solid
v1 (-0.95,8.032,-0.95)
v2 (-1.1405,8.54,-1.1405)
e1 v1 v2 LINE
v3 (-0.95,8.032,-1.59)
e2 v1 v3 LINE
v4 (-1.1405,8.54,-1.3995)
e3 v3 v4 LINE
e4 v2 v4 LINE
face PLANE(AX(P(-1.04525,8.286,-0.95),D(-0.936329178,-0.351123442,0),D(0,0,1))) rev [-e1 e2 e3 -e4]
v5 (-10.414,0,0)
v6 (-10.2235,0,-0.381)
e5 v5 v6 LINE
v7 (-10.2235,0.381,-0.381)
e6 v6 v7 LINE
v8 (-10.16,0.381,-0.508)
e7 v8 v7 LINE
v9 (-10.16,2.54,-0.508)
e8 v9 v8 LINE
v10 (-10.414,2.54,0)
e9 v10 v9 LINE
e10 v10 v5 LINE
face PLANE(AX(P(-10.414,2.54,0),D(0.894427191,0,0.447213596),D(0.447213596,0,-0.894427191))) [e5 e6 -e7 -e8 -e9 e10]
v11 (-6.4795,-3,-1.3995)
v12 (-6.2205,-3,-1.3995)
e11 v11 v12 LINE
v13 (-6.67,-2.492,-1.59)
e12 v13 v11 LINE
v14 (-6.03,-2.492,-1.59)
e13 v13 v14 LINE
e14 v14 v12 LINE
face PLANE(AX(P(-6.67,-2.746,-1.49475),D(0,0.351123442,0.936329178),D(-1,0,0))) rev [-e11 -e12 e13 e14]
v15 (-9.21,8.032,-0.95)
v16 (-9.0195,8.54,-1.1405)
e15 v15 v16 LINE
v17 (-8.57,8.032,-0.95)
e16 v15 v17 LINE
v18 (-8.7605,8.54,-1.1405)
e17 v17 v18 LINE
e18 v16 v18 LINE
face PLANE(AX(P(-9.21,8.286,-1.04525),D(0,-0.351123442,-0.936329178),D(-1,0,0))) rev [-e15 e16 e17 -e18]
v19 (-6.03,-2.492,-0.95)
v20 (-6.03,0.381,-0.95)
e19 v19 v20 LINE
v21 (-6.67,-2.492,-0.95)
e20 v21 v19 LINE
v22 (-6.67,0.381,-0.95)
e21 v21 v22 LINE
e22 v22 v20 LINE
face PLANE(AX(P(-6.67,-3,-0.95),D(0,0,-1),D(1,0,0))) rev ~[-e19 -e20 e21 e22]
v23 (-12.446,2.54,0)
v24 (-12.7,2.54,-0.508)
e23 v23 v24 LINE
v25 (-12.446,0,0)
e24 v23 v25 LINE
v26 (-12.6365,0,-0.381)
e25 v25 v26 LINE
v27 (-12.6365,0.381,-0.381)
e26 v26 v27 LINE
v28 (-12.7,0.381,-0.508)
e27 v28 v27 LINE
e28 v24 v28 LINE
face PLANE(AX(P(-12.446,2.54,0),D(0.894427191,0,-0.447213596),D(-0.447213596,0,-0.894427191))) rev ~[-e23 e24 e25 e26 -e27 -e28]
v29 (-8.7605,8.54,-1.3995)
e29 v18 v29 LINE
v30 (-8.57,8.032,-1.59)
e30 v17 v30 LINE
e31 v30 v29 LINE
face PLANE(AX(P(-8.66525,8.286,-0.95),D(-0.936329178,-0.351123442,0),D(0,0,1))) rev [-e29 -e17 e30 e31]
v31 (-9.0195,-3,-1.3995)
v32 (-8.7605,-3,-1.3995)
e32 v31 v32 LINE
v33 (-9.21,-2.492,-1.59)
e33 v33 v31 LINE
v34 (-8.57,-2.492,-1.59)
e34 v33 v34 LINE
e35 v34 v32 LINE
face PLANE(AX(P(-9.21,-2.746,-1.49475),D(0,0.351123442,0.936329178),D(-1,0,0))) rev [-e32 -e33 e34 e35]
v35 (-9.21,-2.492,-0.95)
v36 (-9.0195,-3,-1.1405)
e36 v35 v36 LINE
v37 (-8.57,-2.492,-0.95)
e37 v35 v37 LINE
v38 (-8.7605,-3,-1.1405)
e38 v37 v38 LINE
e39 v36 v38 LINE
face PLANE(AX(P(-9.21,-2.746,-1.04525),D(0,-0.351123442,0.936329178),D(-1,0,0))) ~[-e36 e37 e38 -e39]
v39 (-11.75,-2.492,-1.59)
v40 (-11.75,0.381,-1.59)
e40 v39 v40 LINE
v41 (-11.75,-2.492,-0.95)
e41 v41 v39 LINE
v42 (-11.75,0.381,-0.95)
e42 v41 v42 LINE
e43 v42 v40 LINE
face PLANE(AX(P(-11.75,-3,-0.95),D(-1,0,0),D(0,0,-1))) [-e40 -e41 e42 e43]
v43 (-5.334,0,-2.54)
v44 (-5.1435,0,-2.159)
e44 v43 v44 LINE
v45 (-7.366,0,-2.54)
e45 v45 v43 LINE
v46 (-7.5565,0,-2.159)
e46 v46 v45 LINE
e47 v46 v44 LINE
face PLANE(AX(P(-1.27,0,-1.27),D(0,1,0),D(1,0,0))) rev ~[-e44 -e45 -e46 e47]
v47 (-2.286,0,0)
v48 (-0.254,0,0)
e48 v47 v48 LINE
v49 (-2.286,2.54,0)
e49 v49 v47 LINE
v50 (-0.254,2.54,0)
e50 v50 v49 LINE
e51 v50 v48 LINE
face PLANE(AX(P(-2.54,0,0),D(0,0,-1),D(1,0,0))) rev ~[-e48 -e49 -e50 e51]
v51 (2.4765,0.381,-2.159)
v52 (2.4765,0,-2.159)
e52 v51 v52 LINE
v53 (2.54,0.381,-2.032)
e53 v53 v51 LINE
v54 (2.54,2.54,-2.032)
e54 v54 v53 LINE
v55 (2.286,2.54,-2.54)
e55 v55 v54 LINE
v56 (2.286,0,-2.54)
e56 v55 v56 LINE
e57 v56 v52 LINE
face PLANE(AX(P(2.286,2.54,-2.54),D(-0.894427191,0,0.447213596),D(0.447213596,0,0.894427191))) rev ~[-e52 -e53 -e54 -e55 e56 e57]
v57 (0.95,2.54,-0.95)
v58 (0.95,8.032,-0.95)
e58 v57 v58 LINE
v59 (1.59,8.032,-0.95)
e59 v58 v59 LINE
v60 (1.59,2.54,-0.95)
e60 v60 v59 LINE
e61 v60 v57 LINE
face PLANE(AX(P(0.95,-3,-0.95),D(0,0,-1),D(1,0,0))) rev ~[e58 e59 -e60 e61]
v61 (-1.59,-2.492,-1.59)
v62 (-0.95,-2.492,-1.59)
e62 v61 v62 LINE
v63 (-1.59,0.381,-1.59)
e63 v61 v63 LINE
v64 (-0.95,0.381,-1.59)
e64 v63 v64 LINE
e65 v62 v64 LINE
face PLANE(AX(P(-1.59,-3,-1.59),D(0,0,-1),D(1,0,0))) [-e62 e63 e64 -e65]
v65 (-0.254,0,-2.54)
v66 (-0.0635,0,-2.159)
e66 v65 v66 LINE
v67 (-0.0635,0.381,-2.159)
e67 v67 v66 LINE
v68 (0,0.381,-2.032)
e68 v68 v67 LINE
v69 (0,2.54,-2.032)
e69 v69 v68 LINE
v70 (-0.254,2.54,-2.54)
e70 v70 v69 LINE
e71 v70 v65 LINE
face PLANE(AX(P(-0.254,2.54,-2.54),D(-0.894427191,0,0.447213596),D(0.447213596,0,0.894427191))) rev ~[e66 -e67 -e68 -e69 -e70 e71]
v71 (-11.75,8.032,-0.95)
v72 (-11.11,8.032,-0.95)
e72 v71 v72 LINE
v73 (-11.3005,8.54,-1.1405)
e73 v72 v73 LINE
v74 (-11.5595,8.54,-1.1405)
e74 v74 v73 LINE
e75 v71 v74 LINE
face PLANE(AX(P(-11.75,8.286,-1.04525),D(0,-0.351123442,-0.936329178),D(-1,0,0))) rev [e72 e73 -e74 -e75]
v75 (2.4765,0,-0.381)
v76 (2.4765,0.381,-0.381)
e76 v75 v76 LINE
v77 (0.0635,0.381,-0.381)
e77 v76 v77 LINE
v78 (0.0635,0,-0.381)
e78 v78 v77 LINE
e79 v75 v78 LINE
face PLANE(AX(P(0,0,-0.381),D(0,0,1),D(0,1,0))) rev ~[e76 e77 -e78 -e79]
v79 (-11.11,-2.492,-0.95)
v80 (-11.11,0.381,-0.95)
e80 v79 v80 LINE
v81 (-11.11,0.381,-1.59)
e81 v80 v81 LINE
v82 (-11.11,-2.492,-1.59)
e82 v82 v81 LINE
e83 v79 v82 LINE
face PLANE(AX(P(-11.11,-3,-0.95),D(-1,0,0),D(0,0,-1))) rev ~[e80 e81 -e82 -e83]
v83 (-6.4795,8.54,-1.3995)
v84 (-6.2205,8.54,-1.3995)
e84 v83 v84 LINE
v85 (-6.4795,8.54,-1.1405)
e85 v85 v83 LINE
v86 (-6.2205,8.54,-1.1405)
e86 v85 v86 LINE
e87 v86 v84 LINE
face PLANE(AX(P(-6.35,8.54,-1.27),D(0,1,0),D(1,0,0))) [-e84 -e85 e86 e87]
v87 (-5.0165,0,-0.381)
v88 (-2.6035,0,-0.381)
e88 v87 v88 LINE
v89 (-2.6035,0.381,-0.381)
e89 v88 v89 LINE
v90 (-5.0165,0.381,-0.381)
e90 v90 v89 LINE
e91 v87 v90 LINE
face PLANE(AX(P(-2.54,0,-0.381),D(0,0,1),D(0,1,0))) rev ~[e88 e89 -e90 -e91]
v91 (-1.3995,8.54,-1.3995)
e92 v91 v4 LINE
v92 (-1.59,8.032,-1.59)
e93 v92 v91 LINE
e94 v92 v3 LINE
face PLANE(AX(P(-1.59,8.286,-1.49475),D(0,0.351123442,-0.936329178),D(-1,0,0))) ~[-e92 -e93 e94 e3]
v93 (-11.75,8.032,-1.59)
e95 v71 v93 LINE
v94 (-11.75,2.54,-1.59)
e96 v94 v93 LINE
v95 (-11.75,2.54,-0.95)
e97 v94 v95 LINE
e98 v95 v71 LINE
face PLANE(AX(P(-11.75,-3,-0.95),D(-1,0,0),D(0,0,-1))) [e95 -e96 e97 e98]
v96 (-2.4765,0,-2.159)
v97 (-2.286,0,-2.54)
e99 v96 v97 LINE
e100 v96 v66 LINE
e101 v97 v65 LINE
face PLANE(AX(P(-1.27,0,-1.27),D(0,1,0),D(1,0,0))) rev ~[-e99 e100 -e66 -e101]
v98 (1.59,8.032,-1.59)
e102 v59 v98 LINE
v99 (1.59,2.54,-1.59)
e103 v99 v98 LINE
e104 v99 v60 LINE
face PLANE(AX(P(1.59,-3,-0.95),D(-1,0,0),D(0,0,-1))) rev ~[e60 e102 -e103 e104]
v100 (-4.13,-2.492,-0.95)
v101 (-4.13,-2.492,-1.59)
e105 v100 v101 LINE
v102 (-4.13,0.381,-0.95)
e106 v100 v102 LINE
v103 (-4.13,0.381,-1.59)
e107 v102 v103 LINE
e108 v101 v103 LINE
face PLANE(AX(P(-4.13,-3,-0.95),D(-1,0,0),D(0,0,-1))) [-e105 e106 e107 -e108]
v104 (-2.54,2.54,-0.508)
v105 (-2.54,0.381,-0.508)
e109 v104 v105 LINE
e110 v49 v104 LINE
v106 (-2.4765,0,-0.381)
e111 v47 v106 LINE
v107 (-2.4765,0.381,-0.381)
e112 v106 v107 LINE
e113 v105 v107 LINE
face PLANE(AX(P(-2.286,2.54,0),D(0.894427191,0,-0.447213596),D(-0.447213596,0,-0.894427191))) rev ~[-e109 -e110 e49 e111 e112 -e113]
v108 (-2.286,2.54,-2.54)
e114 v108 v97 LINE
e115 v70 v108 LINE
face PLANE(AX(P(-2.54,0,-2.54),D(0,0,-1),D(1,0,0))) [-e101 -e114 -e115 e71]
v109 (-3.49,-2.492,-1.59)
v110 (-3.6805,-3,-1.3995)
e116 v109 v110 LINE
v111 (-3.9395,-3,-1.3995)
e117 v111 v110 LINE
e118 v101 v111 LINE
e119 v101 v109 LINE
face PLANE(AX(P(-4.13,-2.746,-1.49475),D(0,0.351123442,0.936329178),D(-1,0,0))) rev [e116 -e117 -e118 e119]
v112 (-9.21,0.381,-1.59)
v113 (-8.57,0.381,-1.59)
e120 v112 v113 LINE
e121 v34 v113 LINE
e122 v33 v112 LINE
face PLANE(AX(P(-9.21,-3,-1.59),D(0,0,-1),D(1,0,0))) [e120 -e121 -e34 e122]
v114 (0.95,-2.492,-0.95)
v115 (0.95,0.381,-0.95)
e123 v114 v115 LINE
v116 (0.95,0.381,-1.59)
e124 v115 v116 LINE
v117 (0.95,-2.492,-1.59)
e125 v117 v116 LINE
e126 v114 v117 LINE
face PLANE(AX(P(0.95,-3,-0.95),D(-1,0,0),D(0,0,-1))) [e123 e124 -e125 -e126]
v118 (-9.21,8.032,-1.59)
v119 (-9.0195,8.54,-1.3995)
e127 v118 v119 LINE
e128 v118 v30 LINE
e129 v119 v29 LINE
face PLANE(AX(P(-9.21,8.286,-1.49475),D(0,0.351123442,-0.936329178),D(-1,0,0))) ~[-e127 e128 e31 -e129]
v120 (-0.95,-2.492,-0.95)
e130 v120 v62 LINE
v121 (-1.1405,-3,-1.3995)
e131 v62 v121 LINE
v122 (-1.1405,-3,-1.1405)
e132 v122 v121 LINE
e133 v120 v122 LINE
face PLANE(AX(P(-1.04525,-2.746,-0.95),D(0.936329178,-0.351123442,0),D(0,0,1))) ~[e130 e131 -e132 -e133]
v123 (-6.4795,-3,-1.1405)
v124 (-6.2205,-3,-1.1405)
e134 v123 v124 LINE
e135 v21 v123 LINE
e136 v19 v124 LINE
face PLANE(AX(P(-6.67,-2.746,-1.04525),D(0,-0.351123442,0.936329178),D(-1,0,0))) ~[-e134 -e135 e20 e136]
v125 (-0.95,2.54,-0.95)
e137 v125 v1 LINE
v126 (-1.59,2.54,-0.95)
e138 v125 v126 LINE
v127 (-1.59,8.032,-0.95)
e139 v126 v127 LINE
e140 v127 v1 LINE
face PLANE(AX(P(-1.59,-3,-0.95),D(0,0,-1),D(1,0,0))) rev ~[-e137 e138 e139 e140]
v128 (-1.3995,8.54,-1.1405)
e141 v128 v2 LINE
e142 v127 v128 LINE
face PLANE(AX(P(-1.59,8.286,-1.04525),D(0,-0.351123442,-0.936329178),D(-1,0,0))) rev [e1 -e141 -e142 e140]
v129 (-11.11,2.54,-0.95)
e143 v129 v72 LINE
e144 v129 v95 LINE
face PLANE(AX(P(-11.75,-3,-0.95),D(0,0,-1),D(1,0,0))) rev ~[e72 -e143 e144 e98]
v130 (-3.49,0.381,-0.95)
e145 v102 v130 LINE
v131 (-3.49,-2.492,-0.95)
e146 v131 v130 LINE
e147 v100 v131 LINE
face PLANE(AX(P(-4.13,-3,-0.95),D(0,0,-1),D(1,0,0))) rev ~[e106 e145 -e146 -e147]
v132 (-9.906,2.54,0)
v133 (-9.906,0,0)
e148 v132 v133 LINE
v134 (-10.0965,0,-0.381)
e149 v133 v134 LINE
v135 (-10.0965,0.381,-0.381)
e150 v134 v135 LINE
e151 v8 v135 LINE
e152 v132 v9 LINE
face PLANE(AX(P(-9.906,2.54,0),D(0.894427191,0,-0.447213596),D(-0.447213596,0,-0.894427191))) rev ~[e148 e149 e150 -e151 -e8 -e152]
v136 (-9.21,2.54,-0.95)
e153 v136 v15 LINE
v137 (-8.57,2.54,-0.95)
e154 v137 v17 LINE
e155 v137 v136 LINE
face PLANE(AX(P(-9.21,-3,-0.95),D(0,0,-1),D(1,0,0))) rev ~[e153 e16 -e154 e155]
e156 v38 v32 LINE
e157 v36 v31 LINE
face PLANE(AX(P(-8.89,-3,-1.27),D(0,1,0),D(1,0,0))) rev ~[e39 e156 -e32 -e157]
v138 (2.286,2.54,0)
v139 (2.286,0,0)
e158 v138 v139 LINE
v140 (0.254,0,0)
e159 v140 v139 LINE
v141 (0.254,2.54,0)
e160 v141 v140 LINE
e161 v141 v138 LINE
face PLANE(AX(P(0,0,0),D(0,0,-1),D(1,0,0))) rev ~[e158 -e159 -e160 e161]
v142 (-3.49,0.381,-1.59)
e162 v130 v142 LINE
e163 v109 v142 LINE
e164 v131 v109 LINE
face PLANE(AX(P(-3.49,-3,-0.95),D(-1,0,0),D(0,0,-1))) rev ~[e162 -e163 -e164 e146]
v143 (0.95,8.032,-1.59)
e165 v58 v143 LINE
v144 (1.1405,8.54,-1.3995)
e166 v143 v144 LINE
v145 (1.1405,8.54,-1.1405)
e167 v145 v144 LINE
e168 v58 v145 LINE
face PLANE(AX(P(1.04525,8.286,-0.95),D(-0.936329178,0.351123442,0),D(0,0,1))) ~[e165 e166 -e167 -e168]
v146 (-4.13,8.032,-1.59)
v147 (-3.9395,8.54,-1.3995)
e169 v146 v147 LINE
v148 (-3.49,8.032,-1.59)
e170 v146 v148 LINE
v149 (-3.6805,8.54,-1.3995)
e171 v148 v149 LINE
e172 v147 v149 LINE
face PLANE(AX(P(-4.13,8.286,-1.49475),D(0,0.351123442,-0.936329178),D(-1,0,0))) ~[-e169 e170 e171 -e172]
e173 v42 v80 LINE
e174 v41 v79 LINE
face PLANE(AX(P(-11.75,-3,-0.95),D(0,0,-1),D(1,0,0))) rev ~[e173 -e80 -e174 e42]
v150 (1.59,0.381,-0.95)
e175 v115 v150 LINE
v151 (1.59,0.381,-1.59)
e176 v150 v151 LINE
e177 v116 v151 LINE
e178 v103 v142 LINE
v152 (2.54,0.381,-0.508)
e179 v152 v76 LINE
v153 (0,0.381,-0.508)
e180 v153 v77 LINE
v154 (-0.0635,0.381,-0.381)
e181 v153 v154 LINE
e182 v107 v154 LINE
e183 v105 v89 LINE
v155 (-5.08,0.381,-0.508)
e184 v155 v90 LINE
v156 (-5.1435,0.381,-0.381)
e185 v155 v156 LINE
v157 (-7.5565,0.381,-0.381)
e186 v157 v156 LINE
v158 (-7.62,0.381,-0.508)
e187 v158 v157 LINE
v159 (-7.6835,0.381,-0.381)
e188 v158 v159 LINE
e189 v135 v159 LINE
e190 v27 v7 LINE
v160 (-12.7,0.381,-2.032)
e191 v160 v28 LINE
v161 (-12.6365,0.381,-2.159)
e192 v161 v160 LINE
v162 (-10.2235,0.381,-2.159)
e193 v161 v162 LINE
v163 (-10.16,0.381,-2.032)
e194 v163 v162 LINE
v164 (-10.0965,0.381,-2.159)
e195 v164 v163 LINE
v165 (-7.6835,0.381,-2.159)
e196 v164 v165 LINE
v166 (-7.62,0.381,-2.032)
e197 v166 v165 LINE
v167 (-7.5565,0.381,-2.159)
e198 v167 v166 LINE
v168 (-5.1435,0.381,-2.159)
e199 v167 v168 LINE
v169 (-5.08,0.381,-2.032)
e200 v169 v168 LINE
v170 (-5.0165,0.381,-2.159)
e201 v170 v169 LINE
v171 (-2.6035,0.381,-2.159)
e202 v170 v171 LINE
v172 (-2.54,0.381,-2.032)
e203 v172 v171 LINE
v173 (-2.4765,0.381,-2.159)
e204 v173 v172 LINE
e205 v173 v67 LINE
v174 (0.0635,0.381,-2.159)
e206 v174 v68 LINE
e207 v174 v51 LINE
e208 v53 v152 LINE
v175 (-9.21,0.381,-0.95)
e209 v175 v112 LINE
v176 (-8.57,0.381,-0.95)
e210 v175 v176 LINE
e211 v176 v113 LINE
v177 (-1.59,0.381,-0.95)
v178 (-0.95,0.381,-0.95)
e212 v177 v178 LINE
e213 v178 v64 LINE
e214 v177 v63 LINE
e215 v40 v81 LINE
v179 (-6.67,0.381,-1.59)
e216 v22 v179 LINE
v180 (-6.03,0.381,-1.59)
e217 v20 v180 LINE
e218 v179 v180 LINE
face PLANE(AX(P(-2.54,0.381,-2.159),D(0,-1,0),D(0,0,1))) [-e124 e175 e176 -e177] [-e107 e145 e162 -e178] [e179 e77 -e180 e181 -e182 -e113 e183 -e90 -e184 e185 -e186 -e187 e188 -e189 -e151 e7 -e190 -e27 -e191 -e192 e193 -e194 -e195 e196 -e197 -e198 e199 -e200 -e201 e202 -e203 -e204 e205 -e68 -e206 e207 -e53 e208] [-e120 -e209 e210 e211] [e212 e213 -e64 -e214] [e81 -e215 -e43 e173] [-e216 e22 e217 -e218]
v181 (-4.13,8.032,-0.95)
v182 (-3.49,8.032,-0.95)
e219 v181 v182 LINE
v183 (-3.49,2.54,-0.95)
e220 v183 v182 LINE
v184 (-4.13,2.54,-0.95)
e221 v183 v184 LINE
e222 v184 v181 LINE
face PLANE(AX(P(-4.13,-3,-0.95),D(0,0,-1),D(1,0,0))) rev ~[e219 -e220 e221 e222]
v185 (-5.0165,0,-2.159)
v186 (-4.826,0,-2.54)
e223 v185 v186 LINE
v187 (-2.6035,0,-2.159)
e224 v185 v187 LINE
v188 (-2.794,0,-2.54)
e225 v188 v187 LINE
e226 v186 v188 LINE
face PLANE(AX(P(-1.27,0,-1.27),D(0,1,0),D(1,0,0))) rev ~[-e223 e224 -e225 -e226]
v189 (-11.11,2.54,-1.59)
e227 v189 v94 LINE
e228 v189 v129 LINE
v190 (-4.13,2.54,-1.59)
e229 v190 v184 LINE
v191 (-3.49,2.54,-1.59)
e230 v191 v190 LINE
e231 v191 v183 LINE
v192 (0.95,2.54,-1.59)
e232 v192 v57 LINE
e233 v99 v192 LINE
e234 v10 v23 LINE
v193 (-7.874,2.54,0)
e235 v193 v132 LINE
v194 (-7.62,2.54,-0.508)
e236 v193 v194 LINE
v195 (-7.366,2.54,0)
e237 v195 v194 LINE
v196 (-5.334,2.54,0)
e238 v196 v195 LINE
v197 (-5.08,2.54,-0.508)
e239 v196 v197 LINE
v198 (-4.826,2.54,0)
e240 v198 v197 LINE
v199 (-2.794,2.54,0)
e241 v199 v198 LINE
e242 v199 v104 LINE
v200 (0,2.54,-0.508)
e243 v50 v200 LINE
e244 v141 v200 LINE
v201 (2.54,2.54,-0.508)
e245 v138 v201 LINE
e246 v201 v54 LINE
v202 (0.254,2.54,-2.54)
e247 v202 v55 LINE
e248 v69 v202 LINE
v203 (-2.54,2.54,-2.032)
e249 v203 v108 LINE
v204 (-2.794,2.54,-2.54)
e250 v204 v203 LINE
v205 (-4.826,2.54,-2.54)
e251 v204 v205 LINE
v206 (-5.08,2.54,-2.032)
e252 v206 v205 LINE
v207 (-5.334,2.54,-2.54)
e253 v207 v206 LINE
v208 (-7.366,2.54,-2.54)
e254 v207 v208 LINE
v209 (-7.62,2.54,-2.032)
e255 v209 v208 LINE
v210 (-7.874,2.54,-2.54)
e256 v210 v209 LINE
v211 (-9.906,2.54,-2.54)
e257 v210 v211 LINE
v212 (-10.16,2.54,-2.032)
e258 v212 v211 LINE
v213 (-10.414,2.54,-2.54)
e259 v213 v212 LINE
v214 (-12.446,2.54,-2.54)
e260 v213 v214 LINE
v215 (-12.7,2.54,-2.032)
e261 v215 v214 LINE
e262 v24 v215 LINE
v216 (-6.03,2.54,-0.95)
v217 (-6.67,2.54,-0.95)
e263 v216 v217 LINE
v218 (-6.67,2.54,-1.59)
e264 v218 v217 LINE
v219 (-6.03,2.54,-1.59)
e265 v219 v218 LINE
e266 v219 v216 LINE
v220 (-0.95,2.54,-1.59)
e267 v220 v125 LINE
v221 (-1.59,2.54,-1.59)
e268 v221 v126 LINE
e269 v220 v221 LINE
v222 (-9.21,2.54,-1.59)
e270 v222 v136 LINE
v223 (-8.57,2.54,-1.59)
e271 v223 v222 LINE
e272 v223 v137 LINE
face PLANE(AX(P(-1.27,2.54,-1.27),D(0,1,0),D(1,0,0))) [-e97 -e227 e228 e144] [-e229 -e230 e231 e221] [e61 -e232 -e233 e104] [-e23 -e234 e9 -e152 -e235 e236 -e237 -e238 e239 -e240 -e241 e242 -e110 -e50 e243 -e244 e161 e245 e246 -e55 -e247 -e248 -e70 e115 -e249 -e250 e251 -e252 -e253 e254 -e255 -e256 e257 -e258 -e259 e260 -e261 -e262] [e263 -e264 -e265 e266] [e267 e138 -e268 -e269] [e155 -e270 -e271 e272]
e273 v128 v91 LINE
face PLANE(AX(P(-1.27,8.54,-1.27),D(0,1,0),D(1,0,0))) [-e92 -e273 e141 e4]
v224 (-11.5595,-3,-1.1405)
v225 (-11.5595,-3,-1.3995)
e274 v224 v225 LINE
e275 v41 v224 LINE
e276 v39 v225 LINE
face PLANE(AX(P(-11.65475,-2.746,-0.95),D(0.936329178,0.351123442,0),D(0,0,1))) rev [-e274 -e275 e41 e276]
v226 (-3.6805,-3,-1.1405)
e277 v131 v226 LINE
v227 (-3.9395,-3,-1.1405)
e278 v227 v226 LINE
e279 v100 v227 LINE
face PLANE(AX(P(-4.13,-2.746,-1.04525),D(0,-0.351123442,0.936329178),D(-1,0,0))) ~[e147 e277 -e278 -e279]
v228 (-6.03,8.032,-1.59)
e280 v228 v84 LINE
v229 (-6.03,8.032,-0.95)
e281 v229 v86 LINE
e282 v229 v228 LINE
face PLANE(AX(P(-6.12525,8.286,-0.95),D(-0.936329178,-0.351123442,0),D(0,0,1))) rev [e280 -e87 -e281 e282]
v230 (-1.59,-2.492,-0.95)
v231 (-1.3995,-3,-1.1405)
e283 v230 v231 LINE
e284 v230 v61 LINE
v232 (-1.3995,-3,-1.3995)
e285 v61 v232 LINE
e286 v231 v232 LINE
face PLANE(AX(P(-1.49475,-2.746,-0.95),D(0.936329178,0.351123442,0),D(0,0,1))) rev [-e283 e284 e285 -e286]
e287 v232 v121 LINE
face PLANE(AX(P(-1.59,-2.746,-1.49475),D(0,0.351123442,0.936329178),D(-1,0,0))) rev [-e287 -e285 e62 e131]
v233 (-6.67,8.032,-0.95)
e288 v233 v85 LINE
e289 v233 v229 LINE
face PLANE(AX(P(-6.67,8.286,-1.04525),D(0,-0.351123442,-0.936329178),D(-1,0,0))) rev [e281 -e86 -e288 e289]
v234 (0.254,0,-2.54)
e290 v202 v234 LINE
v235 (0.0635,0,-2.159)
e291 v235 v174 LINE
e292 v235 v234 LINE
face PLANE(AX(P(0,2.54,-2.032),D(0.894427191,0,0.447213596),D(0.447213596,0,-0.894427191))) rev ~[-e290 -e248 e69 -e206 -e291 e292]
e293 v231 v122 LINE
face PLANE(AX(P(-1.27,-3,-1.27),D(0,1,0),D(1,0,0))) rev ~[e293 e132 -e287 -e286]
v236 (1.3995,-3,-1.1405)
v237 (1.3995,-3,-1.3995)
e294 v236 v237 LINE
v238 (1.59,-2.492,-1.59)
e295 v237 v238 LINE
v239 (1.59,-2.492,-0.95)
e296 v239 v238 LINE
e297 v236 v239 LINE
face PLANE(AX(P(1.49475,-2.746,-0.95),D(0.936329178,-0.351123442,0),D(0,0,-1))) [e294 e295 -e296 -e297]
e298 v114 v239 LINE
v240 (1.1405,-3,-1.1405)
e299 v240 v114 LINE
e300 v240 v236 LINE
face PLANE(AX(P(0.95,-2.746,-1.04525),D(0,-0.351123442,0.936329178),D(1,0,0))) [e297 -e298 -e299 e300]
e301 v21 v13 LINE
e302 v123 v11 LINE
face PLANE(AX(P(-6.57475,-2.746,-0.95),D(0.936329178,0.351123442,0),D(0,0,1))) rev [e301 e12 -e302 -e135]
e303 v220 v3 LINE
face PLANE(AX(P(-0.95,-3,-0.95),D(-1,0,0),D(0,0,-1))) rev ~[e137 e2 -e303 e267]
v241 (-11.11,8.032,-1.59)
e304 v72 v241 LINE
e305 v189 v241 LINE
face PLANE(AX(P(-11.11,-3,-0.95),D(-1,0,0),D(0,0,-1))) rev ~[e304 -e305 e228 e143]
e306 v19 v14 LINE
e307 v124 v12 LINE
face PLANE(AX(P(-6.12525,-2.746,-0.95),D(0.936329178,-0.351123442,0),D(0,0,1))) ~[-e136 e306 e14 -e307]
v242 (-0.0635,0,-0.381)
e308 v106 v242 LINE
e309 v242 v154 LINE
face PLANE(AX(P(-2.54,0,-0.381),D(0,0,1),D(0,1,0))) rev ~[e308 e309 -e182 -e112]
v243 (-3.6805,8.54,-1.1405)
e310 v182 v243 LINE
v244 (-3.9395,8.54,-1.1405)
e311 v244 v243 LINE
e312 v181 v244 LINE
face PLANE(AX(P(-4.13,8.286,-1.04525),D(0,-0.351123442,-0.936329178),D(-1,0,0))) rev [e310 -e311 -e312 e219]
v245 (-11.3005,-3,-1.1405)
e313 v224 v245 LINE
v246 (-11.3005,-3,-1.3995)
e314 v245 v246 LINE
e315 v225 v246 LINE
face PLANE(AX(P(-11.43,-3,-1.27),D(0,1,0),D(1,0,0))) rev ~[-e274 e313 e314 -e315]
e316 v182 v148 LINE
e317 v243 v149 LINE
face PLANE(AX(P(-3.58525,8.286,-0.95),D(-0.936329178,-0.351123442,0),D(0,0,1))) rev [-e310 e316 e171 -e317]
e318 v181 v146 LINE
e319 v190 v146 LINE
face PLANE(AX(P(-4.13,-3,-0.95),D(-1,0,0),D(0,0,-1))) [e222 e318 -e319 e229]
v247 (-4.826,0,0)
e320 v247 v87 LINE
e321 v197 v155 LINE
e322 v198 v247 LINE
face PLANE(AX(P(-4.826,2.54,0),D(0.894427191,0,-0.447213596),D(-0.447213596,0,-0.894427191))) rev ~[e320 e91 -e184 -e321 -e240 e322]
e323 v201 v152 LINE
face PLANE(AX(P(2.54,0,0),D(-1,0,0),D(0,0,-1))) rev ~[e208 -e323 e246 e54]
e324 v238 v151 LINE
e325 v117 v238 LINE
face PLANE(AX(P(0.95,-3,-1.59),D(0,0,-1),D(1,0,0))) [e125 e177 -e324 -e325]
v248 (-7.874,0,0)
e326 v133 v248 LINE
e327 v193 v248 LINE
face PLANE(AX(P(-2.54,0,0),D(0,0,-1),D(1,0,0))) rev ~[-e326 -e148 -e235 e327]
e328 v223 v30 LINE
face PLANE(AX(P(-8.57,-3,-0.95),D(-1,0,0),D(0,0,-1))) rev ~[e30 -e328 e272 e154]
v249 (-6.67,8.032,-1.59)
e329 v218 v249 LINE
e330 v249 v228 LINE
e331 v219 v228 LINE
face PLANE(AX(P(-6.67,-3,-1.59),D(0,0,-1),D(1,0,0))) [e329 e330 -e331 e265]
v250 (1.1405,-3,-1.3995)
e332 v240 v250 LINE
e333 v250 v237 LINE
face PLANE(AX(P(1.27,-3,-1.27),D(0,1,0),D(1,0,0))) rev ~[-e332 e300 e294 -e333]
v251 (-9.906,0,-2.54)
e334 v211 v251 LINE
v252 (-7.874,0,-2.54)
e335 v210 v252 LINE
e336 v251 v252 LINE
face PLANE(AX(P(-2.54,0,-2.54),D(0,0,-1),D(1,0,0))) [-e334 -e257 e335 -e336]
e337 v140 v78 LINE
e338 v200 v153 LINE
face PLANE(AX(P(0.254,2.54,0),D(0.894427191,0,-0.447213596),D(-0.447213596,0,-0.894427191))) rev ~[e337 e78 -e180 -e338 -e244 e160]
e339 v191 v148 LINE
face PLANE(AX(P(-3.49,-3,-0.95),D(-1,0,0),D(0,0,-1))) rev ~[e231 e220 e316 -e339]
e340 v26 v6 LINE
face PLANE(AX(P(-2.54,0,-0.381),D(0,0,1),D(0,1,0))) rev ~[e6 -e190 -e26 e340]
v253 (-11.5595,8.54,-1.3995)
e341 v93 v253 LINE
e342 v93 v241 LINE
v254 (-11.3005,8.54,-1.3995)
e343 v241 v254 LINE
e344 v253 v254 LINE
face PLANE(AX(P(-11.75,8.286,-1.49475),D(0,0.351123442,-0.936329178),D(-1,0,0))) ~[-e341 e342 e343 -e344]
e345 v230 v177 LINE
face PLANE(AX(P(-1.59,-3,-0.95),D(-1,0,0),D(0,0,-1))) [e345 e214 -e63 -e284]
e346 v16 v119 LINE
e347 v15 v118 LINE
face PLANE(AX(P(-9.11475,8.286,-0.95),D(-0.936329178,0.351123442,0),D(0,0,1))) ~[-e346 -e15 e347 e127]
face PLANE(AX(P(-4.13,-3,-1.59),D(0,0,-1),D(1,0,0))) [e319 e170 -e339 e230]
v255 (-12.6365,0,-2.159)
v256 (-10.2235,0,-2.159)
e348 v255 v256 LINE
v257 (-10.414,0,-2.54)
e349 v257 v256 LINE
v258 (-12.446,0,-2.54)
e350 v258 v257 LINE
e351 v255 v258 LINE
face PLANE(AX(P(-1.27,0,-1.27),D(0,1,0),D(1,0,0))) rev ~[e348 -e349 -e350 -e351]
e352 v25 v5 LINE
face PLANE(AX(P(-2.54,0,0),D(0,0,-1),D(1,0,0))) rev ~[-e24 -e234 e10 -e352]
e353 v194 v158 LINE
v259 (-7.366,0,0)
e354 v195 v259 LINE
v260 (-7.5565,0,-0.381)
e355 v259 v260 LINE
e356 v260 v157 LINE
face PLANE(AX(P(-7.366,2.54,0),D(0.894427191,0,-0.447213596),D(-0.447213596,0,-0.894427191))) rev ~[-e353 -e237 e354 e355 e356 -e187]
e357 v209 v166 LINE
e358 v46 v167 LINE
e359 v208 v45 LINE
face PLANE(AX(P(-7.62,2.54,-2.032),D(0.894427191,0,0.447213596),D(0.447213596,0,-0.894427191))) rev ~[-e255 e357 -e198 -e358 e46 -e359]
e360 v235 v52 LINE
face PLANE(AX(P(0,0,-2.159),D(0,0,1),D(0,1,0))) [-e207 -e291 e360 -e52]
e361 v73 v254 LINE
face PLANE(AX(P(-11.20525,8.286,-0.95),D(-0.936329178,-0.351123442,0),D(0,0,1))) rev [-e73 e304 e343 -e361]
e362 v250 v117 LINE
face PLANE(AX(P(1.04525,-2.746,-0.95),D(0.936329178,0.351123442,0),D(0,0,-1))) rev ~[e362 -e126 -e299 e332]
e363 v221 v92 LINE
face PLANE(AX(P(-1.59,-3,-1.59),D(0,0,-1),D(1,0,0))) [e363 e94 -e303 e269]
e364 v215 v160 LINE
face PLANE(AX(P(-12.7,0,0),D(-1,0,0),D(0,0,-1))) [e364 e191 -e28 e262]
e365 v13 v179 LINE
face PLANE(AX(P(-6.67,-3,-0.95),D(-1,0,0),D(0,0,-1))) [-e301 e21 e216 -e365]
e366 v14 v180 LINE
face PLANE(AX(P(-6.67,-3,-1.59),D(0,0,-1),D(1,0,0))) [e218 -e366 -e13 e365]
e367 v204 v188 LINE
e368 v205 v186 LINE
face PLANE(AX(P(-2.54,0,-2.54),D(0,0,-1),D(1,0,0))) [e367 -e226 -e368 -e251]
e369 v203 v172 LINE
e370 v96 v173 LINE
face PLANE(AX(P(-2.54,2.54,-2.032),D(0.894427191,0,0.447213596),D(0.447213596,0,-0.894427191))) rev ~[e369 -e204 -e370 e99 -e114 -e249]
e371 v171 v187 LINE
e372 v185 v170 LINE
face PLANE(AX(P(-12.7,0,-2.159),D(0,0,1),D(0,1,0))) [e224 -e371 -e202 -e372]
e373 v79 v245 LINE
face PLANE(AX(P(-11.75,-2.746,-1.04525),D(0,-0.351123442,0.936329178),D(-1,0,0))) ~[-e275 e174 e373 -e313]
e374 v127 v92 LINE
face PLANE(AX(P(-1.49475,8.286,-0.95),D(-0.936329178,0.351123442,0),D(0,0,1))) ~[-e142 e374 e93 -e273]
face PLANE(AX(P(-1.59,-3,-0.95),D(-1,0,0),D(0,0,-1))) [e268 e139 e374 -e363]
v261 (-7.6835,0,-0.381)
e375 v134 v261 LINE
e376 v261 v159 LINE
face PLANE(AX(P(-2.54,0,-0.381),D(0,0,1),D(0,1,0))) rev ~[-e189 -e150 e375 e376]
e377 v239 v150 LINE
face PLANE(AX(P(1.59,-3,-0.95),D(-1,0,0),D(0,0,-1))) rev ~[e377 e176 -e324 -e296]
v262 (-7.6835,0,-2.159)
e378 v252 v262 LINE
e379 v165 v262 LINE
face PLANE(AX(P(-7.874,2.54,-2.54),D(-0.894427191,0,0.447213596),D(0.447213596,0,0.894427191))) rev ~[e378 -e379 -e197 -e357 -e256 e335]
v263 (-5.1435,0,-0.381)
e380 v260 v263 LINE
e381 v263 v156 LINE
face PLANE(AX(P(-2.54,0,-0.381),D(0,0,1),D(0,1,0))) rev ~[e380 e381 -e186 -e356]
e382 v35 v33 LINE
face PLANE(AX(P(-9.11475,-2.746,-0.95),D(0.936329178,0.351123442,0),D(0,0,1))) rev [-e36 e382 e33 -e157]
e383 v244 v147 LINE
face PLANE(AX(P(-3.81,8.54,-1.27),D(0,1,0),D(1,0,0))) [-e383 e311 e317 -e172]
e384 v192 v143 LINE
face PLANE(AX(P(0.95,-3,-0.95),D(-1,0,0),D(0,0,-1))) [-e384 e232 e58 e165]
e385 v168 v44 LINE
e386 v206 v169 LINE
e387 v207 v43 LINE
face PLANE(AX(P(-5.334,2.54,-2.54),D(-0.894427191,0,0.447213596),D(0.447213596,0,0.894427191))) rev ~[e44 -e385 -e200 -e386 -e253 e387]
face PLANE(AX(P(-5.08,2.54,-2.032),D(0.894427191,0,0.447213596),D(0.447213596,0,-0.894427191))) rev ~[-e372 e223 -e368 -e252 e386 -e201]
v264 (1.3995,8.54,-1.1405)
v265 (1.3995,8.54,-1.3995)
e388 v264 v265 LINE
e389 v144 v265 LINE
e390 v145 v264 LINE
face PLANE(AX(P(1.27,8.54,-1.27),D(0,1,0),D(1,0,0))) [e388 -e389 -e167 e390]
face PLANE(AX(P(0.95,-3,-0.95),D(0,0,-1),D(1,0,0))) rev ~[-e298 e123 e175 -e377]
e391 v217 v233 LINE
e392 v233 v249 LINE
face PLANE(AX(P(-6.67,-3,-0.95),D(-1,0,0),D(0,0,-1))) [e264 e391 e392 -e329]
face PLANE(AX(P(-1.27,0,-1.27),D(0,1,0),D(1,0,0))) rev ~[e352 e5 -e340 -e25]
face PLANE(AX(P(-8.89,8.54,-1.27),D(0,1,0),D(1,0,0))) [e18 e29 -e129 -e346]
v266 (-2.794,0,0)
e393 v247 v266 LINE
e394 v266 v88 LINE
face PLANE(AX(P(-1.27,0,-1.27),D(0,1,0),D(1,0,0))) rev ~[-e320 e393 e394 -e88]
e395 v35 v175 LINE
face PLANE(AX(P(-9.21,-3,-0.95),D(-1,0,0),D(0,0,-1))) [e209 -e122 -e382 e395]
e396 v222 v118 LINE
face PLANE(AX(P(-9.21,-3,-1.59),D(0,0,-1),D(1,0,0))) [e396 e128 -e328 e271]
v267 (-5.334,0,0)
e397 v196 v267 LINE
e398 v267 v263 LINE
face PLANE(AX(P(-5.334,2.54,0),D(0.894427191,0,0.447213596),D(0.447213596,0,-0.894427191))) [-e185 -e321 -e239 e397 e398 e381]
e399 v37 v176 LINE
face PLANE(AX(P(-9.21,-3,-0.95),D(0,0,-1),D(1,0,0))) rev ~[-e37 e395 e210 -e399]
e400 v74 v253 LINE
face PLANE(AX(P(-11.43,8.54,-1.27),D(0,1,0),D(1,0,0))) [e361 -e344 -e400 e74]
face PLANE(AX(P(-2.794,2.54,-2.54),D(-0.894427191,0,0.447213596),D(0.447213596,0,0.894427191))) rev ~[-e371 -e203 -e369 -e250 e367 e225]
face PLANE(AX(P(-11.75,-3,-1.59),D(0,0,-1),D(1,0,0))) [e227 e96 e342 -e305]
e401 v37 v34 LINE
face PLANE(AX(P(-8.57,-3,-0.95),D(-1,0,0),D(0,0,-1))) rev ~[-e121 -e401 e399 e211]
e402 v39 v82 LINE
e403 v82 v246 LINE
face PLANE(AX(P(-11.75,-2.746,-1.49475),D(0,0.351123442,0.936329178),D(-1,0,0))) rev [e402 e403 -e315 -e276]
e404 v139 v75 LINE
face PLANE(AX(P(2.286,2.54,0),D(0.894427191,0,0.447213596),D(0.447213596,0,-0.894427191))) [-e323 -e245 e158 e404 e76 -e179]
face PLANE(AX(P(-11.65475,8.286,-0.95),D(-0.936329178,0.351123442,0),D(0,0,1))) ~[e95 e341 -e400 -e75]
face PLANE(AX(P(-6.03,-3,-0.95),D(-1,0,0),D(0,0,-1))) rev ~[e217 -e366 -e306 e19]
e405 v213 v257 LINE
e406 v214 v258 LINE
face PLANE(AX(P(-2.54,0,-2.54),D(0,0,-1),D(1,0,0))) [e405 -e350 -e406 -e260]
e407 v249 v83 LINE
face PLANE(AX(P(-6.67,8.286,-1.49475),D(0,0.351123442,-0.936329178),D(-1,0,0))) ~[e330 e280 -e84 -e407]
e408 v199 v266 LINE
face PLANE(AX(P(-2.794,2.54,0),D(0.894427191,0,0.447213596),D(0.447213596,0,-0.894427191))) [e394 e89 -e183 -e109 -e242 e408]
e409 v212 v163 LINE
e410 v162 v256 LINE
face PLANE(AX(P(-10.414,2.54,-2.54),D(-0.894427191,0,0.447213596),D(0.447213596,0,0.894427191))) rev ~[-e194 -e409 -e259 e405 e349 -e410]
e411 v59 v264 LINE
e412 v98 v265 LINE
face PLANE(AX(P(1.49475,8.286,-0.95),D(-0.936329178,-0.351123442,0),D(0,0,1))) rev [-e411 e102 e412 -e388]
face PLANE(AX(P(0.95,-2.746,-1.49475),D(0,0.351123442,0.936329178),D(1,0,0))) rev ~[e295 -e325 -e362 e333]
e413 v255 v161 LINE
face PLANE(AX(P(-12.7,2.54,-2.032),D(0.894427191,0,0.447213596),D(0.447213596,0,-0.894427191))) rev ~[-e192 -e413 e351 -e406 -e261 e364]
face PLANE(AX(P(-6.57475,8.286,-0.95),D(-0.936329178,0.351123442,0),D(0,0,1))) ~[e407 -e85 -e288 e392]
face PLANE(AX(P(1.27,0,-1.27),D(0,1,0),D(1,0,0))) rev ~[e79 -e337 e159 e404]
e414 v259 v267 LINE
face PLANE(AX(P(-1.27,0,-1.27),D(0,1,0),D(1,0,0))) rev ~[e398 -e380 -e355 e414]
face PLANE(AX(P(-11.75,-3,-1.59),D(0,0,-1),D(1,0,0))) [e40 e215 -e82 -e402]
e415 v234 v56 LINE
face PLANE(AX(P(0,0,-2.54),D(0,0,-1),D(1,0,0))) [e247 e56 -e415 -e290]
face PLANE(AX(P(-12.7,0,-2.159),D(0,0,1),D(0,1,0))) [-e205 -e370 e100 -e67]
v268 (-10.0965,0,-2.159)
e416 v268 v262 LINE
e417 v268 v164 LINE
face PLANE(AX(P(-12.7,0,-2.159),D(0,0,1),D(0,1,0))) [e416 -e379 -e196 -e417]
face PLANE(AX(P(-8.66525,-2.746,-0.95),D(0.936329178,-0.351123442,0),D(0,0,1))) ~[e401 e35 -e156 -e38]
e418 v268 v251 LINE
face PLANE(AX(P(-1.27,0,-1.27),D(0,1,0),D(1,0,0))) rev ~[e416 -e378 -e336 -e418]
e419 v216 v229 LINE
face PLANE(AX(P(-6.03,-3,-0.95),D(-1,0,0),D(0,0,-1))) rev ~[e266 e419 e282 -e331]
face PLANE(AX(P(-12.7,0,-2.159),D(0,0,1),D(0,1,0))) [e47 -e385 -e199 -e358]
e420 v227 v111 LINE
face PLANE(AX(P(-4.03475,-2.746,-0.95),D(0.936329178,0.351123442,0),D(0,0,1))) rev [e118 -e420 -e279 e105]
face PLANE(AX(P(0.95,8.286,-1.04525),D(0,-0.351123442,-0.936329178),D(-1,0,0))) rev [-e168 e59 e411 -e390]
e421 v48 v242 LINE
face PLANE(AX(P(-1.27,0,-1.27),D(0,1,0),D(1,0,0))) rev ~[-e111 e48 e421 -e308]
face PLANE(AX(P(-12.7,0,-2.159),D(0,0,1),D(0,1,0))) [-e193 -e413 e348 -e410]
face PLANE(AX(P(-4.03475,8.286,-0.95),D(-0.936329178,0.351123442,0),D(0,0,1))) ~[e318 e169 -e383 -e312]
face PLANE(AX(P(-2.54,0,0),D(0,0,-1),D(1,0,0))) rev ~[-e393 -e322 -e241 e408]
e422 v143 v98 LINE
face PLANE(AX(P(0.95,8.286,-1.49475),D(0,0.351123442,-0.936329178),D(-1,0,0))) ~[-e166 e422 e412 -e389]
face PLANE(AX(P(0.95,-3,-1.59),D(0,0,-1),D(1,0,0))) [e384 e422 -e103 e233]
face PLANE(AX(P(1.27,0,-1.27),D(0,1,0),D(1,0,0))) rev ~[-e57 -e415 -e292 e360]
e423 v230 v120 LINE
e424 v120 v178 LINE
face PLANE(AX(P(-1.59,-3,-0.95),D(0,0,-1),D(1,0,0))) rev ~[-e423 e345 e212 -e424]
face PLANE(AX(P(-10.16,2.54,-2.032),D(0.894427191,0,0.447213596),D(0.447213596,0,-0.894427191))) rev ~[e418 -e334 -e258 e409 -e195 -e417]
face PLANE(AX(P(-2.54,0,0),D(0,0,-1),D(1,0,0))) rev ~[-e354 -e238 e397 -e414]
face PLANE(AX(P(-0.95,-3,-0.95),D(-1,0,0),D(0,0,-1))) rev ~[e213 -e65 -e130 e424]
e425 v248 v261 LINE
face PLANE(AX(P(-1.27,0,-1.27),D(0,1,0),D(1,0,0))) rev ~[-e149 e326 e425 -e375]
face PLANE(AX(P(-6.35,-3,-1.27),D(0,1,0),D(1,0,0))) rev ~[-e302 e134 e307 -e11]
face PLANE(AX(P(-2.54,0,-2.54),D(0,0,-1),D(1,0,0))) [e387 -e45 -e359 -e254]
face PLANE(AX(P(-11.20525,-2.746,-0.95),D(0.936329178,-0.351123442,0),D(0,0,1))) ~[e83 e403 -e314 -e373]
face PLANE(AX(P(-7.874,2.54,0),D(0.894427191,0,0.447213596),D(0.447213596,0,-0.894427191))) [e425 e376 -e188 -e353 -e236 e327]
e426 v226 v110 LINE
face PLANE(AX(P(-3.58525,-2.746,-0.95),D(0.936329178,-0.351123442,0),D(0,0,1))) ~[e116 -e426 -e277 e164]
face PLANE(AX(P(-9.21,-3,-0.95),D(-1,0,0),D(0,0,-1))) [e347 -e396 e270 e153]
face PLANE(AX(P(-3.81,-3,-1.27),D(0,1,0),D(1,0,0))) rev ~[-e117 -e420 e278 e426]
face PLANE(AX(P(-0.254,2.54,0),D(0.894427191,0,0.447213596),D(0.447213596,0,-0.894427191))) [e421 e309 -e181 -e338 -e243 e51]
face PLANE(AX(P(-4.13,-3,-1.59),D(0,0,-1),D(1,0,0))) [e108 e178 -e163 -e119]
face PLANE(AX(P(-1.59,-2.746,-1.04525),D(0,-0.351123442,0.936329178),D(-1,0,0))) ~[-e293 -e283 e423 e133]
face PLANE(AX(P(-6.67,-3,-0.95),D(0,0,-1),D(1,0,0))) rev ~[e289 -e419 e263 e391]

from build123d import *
from OCP.BRepFilletAPI import BRepFilletAPI_MakeChamfer

# Parameters (mm, degrees)
SKETCH1_W                     = 2.54
SKETCH1_H                     = 2.54
MAIN_BODY_DEPTH               = 2.54
SKETCH3_W                     = 1.778
SKETCH3_H                     = 0.381
CUT_EXTRUDE1_DEPTH            = 5.399409051
CUT_EXTRUDE2_DEPTH            = 5.399409051
BODY_PATTERN_COUNT            = 6
BODY_PATTERN_PITCH            = 2.54
PIN_START                     = -5.54
SKETCH2_W                     = 0.64
SKETCH2_H                     = 0.64
PIN_DEPTH                     = 11.54
CHAMFER1_SIZE                 = 0.508
CHAMFER1_SIZE2                = 0.1905
CHAMFER2_SIZE                 = 0.1905
CHAMFER2_SIZE2                = 0.508
PIN_PATTERN_COUNT             = 6
PIN_PATTERN_PITCH             = 2.54
CHAMFER1_OF_PIN_PATTERN_SIZE  = 0.508
CHAMFER1_OF_PIN_PATTERN_SIZE2 = 0.1905
CHAMFER2_OF_PIN_PATTERN_SIZE2 = 0.1905
CHAMFER2_OF_PIN_PATTERN_SIZE  = 0.508


with BuildPart() as part:
    # Sketch1 → Main Body (new body)
    with BuildSketch(Plane(origin=(0, 0, 0), x_dir=(1, 0, 0), z_dir=(0, 1, 0))):
        with Locations((1.27, 1.27)):
            Rectangle(SKETCH1_W, SKETCH1_H)
    main_body = extrude(amount=MAIN_BODY_DEPTH)

    # Sketch3 → Cut-Extrude1 (cut, through all)
    with BuildSketch(Plane.ZY):
        with Locations((-1.27, 0.1905)):
            Rectangle(SKETCH3_W, SKETCH3_H)
    cut_extrude1 = extrude(amount=-CUT_EXTRUDE1_DEPTH, mode=Mode.SUBTRACT)

    # Sketch4 → Cut-Extrude2 (cut, through all)
    with BuildSketch(Plane(origin=(0, 2.54, 0), x_dir=(1, 0, 0), z_dir=(0, 1, 0))):
        Polygon((0.254, 2.54), (0, 2.54), (0, 2.032), align=None)
        Polygon((2.54, 2.54), (2.286, 2.54), (2.54, 2.032), align=None)
        Polygon((0.254, 0), (0, 0.508), (0, 0), align=None)
        Polygon((2.54, 0), (2.286, 0), (2.54, 0.508), align=None)
    cut_extrude2 = extrude(amount=-CUT_EXTRUDE2_DEPTH, mode=Mode.SUBTRACT)

    # Body Pattern: Main Body, Cut-Extrude1, Cut-Extrude2 ×6
    with Locations(*[(-i * BODY_PATTERN_PITCH, 0, 0) for i in range(1, BODY_PATTERN_COUNT)]):
        add(main_body)
        add(cut_extrude1, mode=Mode.SUBTRACT)
        add(cut_extrude2, mode=Mode.SUBTRACT)

    # Sketch2 → Pin (add)
    with BuildSketch(Plane(origin=(0, 2.54, 0), x_dir=(1, 0, 0), z_dir=(0, 1, 0)).offset(PIN_START)):
        with Locations((1.27, 1.27)):
            Rectangle(SKETCH2_W, SKETCH2_H)
    pin = extrude(amount=PIN_DEPTH)

    # Chamfer1: one chamfer whose edges measure the first distance from different faces: ONE call of the kernel's chamfer builder (chamfer() names one face for all edges)
    chamfer1_edges_1 = [part.edges().sort_by_distance(p)[0] for p in [
        (0.95, 8.54, -1.27),
    ]]
    chamfer1_side_1 = [part.faces().sort_by_distance(p)[0] for p in [
        (0.95, 5.54, -1.27),
    ]]
    chamfer1_edges_2 = [part.edges().sort_by_distance(p)[0] for p in [
        (1.27, 8.54, -0.95),
    ]]
    chamfer1_side_2 = [part.faces().sort_by_distance(p)[0] for p in [
        (1.27, 5.54, -0.95),
    ]]
    chamfer1_edges_3 = [part.edges().sort_by_distance(p)[0] for p in [
        (1.59, 8.54, -1.27),
    ]]
    chamfer1_side_3 = [part.faces().sort_by_distance(p)[0] for p in [
        (1.59, 5.54, -1.27),
    ]]
    chamfer1_edges_4 = [part.edges().sort_by_distance(p)[0] for p in [
        (1.27, 8.54, -1.59),
    ]]
    chamfer1_side_4 = [part.faces().sort_by_distance(p)[0] for p in [
        (1.27, 5.54, -1.59),
    ]]
    chamfer1 = BRepFilletAPI_MakeChamfer(part.part.solid().wrapped)
    for e in chamfer1_edges_1:
        chamfer1.Add(CHAMFER1_SIZE, CHAMFER1_SIZE2, e.wrapped, chamfer1_side_1[0].wrapped)  # the first distance lies on this face
    for e in chamfer1_edges_2:
        chamfer1.Add(CHAMFER1_SIZE, CHAMFER1_SIZE2, e.wrapped, chamfer1_side_2[0].wrapped)  # the first distance lies on this face
    for e in chamfer1_edges_3:
        chamfer1.Add(CHAMFER1_SIZE, CHAMFER1_SIZE2, e.wrapped, chamfer1_side_3[0].wrapped)  # the first distance lies on this face
    for e in chamfer1_edges_4:
        chamfer1.Add(CHAMFER1_SIZE, CHAMFER1_SIZE2, e.wrapped, chamfer1_side_4[0].wrapped)  # the first distance lies on this face
    add(Compound.cast(chamfer1.Shape()), mode=Mode.REPLACE)

    # Chamfer2
    chamfer2_edges = [part.edges().sort_by_distance(p)[0] for p in [
        (1.27, -3, -0.95),
        (1.59, -3, -1.27),
        (1.27, -3, -1.59),
        (0.95, -3, -1.27),
    ]]
    chamfer2_side = [part.faces().sort_by_distance(p)[0] for p in [
        (1.27, -3, -1.27),
    ]]
    chamfer(chamfer2_edges, length=CHAMFER2_SIZE, length2=CHAMFER2_SIZE2, reference=chamfer2_side[0])

    # Pin Pattern: Pin ×6
    with Locations(*[(-i * PIN_PATTERN_PITCH, 0, 0) for i in range(1, PIN_PATTERN_COUNT)]):
        add(pin)

    # Chamfer1 of Pin Pattern: one chamfer whose edges measure the first distance from different faces: ONE call of the kernel's chamfer builder (chamfer() names one face for all edges)
    chamfer1_of_pin_pattern_edges_1 = [part.edges().sort_by_distance(p)[0] for p in [
        (-1.59, 8.54, -1.27),
    ]]
    chamfer1_of_pin_pattern_side_1 = [part.faces().sort_by_distance(p)[0] for p in [
        (-1.59, 5.54, -1.27),
    ]]
    chamfer1_of_pin_pattern_edges_2 = [part.edges().sort_by_distance(p)[0] for p in [
        (-1.27, 8.54, -0.95),
    ]]
    chamfer1_of_pin_pattern_side_2 = [part.faces().sort_by_distance(p)[0] for p in [
        (-1.27, 5.54, -0.95),
    ]]
    chamfer1_of_pin_pattern_edges_3 = [part.edges().sort_by_distance(p)[0] for p in [
        (-0.95, 8.54, -1.27),
    ]]
    chamfer1_of_pin_pattern_side_3 = [part.faces().sort_by_distance(p)[0] for p in [
        (-0.95, 5.54, -1.27),
    ]]
    chamfer1_of_pin_pattern_edges_4 = [part.edges().sort_by_distance(p)[0] for p in [
        (-1.27, 8.54, -1.59),
    ]]
    chamfer1_of_pin_pattern_side_4 = [part.faces().sort_by_distance(p)[0] for p in [
        (-1.27, 5.54, -1.59),
    ]]
    chamfer1_of_pin_pattern_edges_5 = [part.edges().sort_by_distance(p)[0] for p in [
        (-4.13, 8.54, -1.27),
    ]]
    chamfer1_of_pin_pattern_side_5 = [part.faces().sort_by_distance(p)[0] for p in [
        (-4.13, 5.54, -1.27),
    ]]
    chamfer1_of_pin_pattern_edges_6 = [part.edges().sort_by_distance(p)[0] for p in [
        (-3.81, 8.54, -0.95),
    ]]
    chamfer1_of_pin_pattern_side_6 = [part.faces().sort_by_distance(p)[0] for p in [
        (-3.81, 5.54, -0.95),
    ]]
    chamfer1_of_pin_pattern_edges_7 = [part.edges().sort_by_distance(p)[0] for p in [
        (-3.49, 8.54, -1.27),
    ]]
    chamfer1_of_pin_pattern_side_7 = [part.faces().sort_by_distance(p)[0] for p in [
        (-3.49, 5.54, -1.27),
    ]]
    chamfer1_of_pin_pattern_edges_8 = [part.edges().sort_by_distance(p)[0] for p in [
        (-3.81, 8.54, -1.59),
    ]]
    chamfer1_of_pin_pattern_side_8 = [part.faces().sort_by_distance(p)[0] for p in [
        (-3.81, 5.54, -1.59),
    ]]
    chamfer1_of_pin_pattern_edges_9 = [part.edges().sort_by_distance(p)[0] for p in [
        (-6.67, 8.54, -1.27),
    ]]
    chamfer1_of_pin_pattern_side_9 = [part.faces().sort_by_distance(p)[0] for p in [
        (-6.67, 5.54, -1.27),
    ]]
    chamfer1_of_pin_pattern_edges_10 = [part.edges().sort_by_distance(p)[0] for p in [
        (-6.35, 8.54, -0.95),
    ]]
    chamfer1_of_pin_pattern_side_10 = [part.faces().sort_by_distance(p)[0] for p in [
        (-6.35, 5.54, -0.95),
    ]]
    chamfer1_of_pin_pattern_edges_11 = [part.edges().sort_by_distance(p)[0] for p in [
        (-6.03, 8.54, -1.27),
    ]]
    chamfer1_of_pin_pattern_side_11 = [part.faces().sort_by_distance(p)[0] for p in [
        (-6.03, 5.54, -1.27),
    ]]
    chamfer1_of_pin_pattern_edges_12 = [part.edges().sort_by_distance(p)[0] for p in [
        (-6.35, 8.54, -1.59),
    ]]
    chamfer1_of_pin_pattern_side_12 = [part.faces().sort_by_distance(p)[0] for p in [
        (-6.35, 5.54, -1.59),
    ]]
    chamfer1_of_pin_pattern_edges_13 = [part.edges().sort_by_distance(p)[0] for p in [
        (-9.21, 8.54, -1.27),
    ]]
    chamfer1_of_pin_pattern_side_13 = [part.faces().sort_by_distance(p)[0] for p in [
        (-9.21, 5.54, -1.27),
    ]]
    chamfer1_of_pin_pattern_edges_14 = [part.edges().sort_by_distance(p)[0] for p in [
        (-8.89, 8.54, -0.95),
    ]]
    chamfer1_of_pin_pattern_side_14 = [part.faces().sort_by_distance(p)[0] for p in [
        (-8.89, 5.54, -0.95),
    ]]
    chamfer1_of_pin_pattern_edges_15 = [part.edges().sort_by_distance(p)[0] for p in [
        (-8.57, 8.54, -1.27),
    ]]
    chamfer1_of_pin_pattern_side_15 = [part.faces().sort_by_distance(p)[0] for p in [
        (-8.57, 5.54, -1.27),
    ]]
    chamfer1_of_pin_pattern_edges_16 = [part.edges().sort_by_distance(p)[0] for p in [
        (-8.89, 8.54, -1.59),
    ]]
    chamfer1_of_pin_pattern_side_16 = [part.faces().sort_by_distance(p)[0] for p in [
        (-8.89, 5.54, -1.59),
    ]]
    chamfer1_of_pin_pattern_edges_17 = [part.edges().sort_by_distance(p)[0] for p in [
        (-11.75, 8.54, -1.27),
    ]]
    chamfer1_of_pin_pattern_side_17 = [part.faces().sort_by_distance(p)[0] for p in [
        (-11.75, 5.54, -1.27),
    ]]
    chamfer1_of_pin_pattern_edges_18 = [part.edges().sort_by_distance(p)[0] for p in [
        (-11.43, 8.54, -0.95),
    ]]
    chamfer1_of_pin_pattern_side_18 = [part.faces().sort_by_distance(p)[0] for p in [
        (-11.43, 5.54, -0.95),
    ]]
    chamfer1_of_pin_pattern_edges_19 = [part.edges().sort_by_distance(p)[0] for p in [
        (-11.11, 8.54, -1.27),
    ]]
    chamfer1_of_pin_pattern_side_19 = [part.faces().sort_by_distance(p)[0] for p in [
        (-11.11, 5.54, -1.27),
    ]]
    chamfer1_of_pin_pattern_edges_20 = [part.edges().sort_by_distance(p)[0] for p in [
        (-11.43, 8.54, -1.59),
    ]]
    chamfer1_of_pin_pattern_side_20 = [part.faces().sort_by_distance(p)[0] for p in [
        (-11.43, 5.54, -1.59),
    ]]
    chamfer1_of_pin_pattern = BRepFilletAPI_MakeChamfer(part.part.solid().wrapped)
    for e in chamfer1_of_pin_pattern_edges_1:
        chamfer1_of_pin_pattern.Add(CHAMFER1_OF_PIN_PATTERN_SIZE, CHAMFER1_OF_PIN_PATTERN_SIZE2, e.wrapped, chamfer1_of_pin_pattern_side_1[0].wrapped)  # the first distance lies on this face
    for e in chamfer1_of_pin_pattern_edges_2:
        chamfer1_of_pin_pattern.Add(CHAMFER1_OF_PIN_PATTERN_SIZE, CHAMFER1_OF_PIN_PATTERN_SIZE2, e.wrapped, chamfer1_of_pin_pattern_side_2[0].wrapped)  # the first distance lies on this face
    for e in chamfer1_of_pin_pattern_edges_3:
        chamfer1_of_pin_pattern.Add(CHAMFER1_OF_PIN_PATTERN_SIZE, CHAMFER1_OF_PIN_PATTERN_SIZE2, e.wrapped, chamfer1_of_pin_pattern_side_3[0].wrapped)  # the first distance lies on this face
    for e in chamfer1_of_pin_pattern_edges_4:
        chamfer1_of_pin_pattern.Add(CHAMFER1_OF_PIN_PATTERN_SIZE, CHAMFER1_OF_PIN_PATTERN_SIZE2, e.wrapped, chamfer1_of_pin_pattern_side_4[0].wrapped)  # the first distance lies on this face
    for e in chamfer1_of_pin_pattern_edges_5:
        chamfer1_of_pin_pattern.Add(CHAMFER1_OF_PIN_PATTERN_SIZE, CHAMFER1_OF_PIN_PATTERN_SIZE2, e.wrapped, chamfer1_of_pin_pattern_side_5[0].wrapped)  # the first distance lies on this face
    for e in chamfer1_of_pin_pattern_edges_6:
        chamfer1_of_pin_pattern.Add(CHAMFER1_OF_PIN_PATTERN_SIZE, CHAMFER1_OF_PIN_PATTERN_SIZE2, e.wrapped, chamfer1_of_pin_pattern_side_6[0].wrapped)  # the first distance lies on this face
    for e in chamfer1_of_pin_pattern_edges_7:
        chamfer1_of_pin_pattern.Add(CHAMFER1_OF_PIN_PATTERN_SIZE, CHAMFER1_OF_PIN_PATTERN_SIZE2, e.wrapped, chamfer1_of_pin_pattern_side_7[0].wrapped)  # the first distance lies on this face
    for e in chamfer1_of_pin_pattern_edges_8:
        chamfer1_of_pin_pattern.Add(CHAMFER1_OF_PIN_PATTERN_SIZE, CHAMFER1_OF_PIN_PATTERN_SIZE2, e.wrapped, chamfer1_of_pin_pattern_side_8[0].wrapped)  # the first distance lies on this face
    for e in chamfer1_of_pin_pattern_edges_9:
        chamfer1_of_pin_pattern.Add(CHAMFER1_OF_PIN_PATTERN_SIZE, CHAMFER1_OF_PIN_PATTERN_SIZE2, e.wrapped, chamfer1_of_pin_pattern_side_9[0].wrapped)  # the first distance lies on this face
    for e in chamfer1_of_pin_pattern_edges_10:
        chamfer1_of_pin_pattern.Add(CHAMFER1_OF_PIN_PATTERN_SIZE, CHAMFER1_OF_PIN_PATTERN_SIZE2, e.wrapped, chamfer1_of_pin_pattern_side_10[0].wrapped)  # the first distance lies on this face
    for e in chamfer1_of_pin_pattern_edges_11:
        chamfer1_of_pin_pattern.Add(CHAMFER1_OF_PIN_PATTERN_SIZE, CHAMFER1_OF_PIN_PATTERN_SIZE2, e.wrapped, chamfer1_of_pin_pattern_side_11[0].wrapped)  # the first distance lies on this face
    for e in chamfer1_of_pin_pattern_edges_12:
        chamfer1_of_pin_pattern.Add(CHAMFER1_OF_PIN_PATTERN_SIZE, CHAMFER1_OF_PIN_PATTERN_SIZE2, e.wrapped, chamfer1_of_pin_pattern_side_12[0].wrapped)  # the first distance lies on this face
    for e in chamfer1_of_pin_pattern_edges_13:
        chamfer1_of_pin_pattern.Add(CHAMFER1_OF_PIN_PATTERN_SIZE, CHAMFER1_OF_PIN_PATTERN_SIZE2, e.wrapped, chamfer1_of_pin_pattern_side_13[0].wrapped)  # the first distance lies on this face
    for e in chamfer1_of_pin_pattern_edges_14:
        chamfer1_of_pin_pattern.Add(CHAMFER1_OF_PIN_PATTERN_SIZE, CHAMFER1_OF_PIN_PATTERN_SIZE2, e.wrapped, chamfer1_of_pin_pattern_side_14[0].wrapped)  # the first distance lies on this face
    for e in chamfer1_of_pin_pattern_edges_15:
        chamfer1_of_pin_pattern.Add(CHAMFER1_OF_PIN_PATTERN_SIZE, CHAMFER1_OF_PIN_PATTERN_SIZE2, e.wrapped, chamfer1_of_pin_pattern_side_15[0].wrapped)  # the first distance lies on this face
    for e in chamfer1_of_pin_pattern_edges_16:
        chamfer1_of_pin_pattern.Add(CHAMFER1_OF_PIN_PATTERN_SIZE, CHAMFER1_OF_PIN_PATTERN_SIZE2, e.wrapped, chamfer1_of_pin_pattern_side_16[0].wrapped)  # the first distance lies on this face
    for e in chamfer1_of_pin_pattern_edges_17:
        chamfer1_of_pin_pattern.Add(CHAMFER1_OF_PIN_PATTERN_SIZE, CHAMFER1_OF_PIN_PATTERN_SIZE2, e.wrapped, chamfer1_of_pin_pattern_side_17[0].wrapped)  # the first distance lies on this face
    for e in chamfer1_of_pin_pattern_edges_18:
        chamfer1_of_pin_pattern.Add(CHAMFER1_OF_PIN_PATTERN_SIZE, CHAMFER1_OF_PIN_PATTERN_SIZE2, e.wrapped, chamfer1_of_pin_pattern_side_18[0].wrapped)  # the first distance lies on this face
    for e in chamfer1_of_pin_pattern_edges_19:
        chamfer1_of_pin_pattern.Add(CHAMFER1_OF_PIN_PATTERN_SIZE, CHAMFER1_OF_PIN_PATTERN_SIZE2, e.wrapped, chamfer1_of_pin_pattern_side_19[0].wrapped)  # the first distance lies on this face
    for e in chamfer1_of_pin_pattern_edges_20:
        chamfer1_of_pin_pattern.Add(CHAMFER1_OF_PIN_PATTERN_SIZE, CHAMFER1_OF_PIN_PATTERN_SIZE2, e.wrapped, chamfer1_of_pin_pattern_side_20[0].wrapped)  # the first distance lies on this face
    add(Compound.cast(chamfer1_of_pin_pattern.Shape()), mode=Mode.REPLACE)

    # Chamfer2 of Pin Pattern
    chamfer2_of_pin_pattern_edges = [part.edges().sort_by_distance(p)[0] for p in [
        (-1.27, -3, -0.95),
        (-0.95, -3, -1.27),
        (-1.27, -3, -1.59),
        (-1.59, -3, -1.27),
        (-3.81, -3, -0.95),
        (-3.49, -3, -1.27),
        (-3.81, -3, -1.59),
        (-4.13, -3, -1.27),
        (-6.35, -3, -0.95),
        (-6.03, -3, -1.27),
        (-6.35, -3, -1.59),
        (-6.67, -3, -1.27),
        (-8.89, -3, -0.95),
        (-8.57, -3, -1.27),
        (-8.89, -3, -1.59),
        (-9.21, -3, -1.27),
        (-11.43, -3, -0.95),
        (-11.11, -3, -1.27),
        (-11.43, -3, -1.59),
        (-11.75, -3, -1.27),
    ]]
    chamfer(chamfer2_of_pin_pattern_edges, length=CHAMFER2_OF_PIN_PATTERN_SIZE, length2=CHAMFER2_OF_PIN_PATTERN_SIZE2)


solid = part.part
